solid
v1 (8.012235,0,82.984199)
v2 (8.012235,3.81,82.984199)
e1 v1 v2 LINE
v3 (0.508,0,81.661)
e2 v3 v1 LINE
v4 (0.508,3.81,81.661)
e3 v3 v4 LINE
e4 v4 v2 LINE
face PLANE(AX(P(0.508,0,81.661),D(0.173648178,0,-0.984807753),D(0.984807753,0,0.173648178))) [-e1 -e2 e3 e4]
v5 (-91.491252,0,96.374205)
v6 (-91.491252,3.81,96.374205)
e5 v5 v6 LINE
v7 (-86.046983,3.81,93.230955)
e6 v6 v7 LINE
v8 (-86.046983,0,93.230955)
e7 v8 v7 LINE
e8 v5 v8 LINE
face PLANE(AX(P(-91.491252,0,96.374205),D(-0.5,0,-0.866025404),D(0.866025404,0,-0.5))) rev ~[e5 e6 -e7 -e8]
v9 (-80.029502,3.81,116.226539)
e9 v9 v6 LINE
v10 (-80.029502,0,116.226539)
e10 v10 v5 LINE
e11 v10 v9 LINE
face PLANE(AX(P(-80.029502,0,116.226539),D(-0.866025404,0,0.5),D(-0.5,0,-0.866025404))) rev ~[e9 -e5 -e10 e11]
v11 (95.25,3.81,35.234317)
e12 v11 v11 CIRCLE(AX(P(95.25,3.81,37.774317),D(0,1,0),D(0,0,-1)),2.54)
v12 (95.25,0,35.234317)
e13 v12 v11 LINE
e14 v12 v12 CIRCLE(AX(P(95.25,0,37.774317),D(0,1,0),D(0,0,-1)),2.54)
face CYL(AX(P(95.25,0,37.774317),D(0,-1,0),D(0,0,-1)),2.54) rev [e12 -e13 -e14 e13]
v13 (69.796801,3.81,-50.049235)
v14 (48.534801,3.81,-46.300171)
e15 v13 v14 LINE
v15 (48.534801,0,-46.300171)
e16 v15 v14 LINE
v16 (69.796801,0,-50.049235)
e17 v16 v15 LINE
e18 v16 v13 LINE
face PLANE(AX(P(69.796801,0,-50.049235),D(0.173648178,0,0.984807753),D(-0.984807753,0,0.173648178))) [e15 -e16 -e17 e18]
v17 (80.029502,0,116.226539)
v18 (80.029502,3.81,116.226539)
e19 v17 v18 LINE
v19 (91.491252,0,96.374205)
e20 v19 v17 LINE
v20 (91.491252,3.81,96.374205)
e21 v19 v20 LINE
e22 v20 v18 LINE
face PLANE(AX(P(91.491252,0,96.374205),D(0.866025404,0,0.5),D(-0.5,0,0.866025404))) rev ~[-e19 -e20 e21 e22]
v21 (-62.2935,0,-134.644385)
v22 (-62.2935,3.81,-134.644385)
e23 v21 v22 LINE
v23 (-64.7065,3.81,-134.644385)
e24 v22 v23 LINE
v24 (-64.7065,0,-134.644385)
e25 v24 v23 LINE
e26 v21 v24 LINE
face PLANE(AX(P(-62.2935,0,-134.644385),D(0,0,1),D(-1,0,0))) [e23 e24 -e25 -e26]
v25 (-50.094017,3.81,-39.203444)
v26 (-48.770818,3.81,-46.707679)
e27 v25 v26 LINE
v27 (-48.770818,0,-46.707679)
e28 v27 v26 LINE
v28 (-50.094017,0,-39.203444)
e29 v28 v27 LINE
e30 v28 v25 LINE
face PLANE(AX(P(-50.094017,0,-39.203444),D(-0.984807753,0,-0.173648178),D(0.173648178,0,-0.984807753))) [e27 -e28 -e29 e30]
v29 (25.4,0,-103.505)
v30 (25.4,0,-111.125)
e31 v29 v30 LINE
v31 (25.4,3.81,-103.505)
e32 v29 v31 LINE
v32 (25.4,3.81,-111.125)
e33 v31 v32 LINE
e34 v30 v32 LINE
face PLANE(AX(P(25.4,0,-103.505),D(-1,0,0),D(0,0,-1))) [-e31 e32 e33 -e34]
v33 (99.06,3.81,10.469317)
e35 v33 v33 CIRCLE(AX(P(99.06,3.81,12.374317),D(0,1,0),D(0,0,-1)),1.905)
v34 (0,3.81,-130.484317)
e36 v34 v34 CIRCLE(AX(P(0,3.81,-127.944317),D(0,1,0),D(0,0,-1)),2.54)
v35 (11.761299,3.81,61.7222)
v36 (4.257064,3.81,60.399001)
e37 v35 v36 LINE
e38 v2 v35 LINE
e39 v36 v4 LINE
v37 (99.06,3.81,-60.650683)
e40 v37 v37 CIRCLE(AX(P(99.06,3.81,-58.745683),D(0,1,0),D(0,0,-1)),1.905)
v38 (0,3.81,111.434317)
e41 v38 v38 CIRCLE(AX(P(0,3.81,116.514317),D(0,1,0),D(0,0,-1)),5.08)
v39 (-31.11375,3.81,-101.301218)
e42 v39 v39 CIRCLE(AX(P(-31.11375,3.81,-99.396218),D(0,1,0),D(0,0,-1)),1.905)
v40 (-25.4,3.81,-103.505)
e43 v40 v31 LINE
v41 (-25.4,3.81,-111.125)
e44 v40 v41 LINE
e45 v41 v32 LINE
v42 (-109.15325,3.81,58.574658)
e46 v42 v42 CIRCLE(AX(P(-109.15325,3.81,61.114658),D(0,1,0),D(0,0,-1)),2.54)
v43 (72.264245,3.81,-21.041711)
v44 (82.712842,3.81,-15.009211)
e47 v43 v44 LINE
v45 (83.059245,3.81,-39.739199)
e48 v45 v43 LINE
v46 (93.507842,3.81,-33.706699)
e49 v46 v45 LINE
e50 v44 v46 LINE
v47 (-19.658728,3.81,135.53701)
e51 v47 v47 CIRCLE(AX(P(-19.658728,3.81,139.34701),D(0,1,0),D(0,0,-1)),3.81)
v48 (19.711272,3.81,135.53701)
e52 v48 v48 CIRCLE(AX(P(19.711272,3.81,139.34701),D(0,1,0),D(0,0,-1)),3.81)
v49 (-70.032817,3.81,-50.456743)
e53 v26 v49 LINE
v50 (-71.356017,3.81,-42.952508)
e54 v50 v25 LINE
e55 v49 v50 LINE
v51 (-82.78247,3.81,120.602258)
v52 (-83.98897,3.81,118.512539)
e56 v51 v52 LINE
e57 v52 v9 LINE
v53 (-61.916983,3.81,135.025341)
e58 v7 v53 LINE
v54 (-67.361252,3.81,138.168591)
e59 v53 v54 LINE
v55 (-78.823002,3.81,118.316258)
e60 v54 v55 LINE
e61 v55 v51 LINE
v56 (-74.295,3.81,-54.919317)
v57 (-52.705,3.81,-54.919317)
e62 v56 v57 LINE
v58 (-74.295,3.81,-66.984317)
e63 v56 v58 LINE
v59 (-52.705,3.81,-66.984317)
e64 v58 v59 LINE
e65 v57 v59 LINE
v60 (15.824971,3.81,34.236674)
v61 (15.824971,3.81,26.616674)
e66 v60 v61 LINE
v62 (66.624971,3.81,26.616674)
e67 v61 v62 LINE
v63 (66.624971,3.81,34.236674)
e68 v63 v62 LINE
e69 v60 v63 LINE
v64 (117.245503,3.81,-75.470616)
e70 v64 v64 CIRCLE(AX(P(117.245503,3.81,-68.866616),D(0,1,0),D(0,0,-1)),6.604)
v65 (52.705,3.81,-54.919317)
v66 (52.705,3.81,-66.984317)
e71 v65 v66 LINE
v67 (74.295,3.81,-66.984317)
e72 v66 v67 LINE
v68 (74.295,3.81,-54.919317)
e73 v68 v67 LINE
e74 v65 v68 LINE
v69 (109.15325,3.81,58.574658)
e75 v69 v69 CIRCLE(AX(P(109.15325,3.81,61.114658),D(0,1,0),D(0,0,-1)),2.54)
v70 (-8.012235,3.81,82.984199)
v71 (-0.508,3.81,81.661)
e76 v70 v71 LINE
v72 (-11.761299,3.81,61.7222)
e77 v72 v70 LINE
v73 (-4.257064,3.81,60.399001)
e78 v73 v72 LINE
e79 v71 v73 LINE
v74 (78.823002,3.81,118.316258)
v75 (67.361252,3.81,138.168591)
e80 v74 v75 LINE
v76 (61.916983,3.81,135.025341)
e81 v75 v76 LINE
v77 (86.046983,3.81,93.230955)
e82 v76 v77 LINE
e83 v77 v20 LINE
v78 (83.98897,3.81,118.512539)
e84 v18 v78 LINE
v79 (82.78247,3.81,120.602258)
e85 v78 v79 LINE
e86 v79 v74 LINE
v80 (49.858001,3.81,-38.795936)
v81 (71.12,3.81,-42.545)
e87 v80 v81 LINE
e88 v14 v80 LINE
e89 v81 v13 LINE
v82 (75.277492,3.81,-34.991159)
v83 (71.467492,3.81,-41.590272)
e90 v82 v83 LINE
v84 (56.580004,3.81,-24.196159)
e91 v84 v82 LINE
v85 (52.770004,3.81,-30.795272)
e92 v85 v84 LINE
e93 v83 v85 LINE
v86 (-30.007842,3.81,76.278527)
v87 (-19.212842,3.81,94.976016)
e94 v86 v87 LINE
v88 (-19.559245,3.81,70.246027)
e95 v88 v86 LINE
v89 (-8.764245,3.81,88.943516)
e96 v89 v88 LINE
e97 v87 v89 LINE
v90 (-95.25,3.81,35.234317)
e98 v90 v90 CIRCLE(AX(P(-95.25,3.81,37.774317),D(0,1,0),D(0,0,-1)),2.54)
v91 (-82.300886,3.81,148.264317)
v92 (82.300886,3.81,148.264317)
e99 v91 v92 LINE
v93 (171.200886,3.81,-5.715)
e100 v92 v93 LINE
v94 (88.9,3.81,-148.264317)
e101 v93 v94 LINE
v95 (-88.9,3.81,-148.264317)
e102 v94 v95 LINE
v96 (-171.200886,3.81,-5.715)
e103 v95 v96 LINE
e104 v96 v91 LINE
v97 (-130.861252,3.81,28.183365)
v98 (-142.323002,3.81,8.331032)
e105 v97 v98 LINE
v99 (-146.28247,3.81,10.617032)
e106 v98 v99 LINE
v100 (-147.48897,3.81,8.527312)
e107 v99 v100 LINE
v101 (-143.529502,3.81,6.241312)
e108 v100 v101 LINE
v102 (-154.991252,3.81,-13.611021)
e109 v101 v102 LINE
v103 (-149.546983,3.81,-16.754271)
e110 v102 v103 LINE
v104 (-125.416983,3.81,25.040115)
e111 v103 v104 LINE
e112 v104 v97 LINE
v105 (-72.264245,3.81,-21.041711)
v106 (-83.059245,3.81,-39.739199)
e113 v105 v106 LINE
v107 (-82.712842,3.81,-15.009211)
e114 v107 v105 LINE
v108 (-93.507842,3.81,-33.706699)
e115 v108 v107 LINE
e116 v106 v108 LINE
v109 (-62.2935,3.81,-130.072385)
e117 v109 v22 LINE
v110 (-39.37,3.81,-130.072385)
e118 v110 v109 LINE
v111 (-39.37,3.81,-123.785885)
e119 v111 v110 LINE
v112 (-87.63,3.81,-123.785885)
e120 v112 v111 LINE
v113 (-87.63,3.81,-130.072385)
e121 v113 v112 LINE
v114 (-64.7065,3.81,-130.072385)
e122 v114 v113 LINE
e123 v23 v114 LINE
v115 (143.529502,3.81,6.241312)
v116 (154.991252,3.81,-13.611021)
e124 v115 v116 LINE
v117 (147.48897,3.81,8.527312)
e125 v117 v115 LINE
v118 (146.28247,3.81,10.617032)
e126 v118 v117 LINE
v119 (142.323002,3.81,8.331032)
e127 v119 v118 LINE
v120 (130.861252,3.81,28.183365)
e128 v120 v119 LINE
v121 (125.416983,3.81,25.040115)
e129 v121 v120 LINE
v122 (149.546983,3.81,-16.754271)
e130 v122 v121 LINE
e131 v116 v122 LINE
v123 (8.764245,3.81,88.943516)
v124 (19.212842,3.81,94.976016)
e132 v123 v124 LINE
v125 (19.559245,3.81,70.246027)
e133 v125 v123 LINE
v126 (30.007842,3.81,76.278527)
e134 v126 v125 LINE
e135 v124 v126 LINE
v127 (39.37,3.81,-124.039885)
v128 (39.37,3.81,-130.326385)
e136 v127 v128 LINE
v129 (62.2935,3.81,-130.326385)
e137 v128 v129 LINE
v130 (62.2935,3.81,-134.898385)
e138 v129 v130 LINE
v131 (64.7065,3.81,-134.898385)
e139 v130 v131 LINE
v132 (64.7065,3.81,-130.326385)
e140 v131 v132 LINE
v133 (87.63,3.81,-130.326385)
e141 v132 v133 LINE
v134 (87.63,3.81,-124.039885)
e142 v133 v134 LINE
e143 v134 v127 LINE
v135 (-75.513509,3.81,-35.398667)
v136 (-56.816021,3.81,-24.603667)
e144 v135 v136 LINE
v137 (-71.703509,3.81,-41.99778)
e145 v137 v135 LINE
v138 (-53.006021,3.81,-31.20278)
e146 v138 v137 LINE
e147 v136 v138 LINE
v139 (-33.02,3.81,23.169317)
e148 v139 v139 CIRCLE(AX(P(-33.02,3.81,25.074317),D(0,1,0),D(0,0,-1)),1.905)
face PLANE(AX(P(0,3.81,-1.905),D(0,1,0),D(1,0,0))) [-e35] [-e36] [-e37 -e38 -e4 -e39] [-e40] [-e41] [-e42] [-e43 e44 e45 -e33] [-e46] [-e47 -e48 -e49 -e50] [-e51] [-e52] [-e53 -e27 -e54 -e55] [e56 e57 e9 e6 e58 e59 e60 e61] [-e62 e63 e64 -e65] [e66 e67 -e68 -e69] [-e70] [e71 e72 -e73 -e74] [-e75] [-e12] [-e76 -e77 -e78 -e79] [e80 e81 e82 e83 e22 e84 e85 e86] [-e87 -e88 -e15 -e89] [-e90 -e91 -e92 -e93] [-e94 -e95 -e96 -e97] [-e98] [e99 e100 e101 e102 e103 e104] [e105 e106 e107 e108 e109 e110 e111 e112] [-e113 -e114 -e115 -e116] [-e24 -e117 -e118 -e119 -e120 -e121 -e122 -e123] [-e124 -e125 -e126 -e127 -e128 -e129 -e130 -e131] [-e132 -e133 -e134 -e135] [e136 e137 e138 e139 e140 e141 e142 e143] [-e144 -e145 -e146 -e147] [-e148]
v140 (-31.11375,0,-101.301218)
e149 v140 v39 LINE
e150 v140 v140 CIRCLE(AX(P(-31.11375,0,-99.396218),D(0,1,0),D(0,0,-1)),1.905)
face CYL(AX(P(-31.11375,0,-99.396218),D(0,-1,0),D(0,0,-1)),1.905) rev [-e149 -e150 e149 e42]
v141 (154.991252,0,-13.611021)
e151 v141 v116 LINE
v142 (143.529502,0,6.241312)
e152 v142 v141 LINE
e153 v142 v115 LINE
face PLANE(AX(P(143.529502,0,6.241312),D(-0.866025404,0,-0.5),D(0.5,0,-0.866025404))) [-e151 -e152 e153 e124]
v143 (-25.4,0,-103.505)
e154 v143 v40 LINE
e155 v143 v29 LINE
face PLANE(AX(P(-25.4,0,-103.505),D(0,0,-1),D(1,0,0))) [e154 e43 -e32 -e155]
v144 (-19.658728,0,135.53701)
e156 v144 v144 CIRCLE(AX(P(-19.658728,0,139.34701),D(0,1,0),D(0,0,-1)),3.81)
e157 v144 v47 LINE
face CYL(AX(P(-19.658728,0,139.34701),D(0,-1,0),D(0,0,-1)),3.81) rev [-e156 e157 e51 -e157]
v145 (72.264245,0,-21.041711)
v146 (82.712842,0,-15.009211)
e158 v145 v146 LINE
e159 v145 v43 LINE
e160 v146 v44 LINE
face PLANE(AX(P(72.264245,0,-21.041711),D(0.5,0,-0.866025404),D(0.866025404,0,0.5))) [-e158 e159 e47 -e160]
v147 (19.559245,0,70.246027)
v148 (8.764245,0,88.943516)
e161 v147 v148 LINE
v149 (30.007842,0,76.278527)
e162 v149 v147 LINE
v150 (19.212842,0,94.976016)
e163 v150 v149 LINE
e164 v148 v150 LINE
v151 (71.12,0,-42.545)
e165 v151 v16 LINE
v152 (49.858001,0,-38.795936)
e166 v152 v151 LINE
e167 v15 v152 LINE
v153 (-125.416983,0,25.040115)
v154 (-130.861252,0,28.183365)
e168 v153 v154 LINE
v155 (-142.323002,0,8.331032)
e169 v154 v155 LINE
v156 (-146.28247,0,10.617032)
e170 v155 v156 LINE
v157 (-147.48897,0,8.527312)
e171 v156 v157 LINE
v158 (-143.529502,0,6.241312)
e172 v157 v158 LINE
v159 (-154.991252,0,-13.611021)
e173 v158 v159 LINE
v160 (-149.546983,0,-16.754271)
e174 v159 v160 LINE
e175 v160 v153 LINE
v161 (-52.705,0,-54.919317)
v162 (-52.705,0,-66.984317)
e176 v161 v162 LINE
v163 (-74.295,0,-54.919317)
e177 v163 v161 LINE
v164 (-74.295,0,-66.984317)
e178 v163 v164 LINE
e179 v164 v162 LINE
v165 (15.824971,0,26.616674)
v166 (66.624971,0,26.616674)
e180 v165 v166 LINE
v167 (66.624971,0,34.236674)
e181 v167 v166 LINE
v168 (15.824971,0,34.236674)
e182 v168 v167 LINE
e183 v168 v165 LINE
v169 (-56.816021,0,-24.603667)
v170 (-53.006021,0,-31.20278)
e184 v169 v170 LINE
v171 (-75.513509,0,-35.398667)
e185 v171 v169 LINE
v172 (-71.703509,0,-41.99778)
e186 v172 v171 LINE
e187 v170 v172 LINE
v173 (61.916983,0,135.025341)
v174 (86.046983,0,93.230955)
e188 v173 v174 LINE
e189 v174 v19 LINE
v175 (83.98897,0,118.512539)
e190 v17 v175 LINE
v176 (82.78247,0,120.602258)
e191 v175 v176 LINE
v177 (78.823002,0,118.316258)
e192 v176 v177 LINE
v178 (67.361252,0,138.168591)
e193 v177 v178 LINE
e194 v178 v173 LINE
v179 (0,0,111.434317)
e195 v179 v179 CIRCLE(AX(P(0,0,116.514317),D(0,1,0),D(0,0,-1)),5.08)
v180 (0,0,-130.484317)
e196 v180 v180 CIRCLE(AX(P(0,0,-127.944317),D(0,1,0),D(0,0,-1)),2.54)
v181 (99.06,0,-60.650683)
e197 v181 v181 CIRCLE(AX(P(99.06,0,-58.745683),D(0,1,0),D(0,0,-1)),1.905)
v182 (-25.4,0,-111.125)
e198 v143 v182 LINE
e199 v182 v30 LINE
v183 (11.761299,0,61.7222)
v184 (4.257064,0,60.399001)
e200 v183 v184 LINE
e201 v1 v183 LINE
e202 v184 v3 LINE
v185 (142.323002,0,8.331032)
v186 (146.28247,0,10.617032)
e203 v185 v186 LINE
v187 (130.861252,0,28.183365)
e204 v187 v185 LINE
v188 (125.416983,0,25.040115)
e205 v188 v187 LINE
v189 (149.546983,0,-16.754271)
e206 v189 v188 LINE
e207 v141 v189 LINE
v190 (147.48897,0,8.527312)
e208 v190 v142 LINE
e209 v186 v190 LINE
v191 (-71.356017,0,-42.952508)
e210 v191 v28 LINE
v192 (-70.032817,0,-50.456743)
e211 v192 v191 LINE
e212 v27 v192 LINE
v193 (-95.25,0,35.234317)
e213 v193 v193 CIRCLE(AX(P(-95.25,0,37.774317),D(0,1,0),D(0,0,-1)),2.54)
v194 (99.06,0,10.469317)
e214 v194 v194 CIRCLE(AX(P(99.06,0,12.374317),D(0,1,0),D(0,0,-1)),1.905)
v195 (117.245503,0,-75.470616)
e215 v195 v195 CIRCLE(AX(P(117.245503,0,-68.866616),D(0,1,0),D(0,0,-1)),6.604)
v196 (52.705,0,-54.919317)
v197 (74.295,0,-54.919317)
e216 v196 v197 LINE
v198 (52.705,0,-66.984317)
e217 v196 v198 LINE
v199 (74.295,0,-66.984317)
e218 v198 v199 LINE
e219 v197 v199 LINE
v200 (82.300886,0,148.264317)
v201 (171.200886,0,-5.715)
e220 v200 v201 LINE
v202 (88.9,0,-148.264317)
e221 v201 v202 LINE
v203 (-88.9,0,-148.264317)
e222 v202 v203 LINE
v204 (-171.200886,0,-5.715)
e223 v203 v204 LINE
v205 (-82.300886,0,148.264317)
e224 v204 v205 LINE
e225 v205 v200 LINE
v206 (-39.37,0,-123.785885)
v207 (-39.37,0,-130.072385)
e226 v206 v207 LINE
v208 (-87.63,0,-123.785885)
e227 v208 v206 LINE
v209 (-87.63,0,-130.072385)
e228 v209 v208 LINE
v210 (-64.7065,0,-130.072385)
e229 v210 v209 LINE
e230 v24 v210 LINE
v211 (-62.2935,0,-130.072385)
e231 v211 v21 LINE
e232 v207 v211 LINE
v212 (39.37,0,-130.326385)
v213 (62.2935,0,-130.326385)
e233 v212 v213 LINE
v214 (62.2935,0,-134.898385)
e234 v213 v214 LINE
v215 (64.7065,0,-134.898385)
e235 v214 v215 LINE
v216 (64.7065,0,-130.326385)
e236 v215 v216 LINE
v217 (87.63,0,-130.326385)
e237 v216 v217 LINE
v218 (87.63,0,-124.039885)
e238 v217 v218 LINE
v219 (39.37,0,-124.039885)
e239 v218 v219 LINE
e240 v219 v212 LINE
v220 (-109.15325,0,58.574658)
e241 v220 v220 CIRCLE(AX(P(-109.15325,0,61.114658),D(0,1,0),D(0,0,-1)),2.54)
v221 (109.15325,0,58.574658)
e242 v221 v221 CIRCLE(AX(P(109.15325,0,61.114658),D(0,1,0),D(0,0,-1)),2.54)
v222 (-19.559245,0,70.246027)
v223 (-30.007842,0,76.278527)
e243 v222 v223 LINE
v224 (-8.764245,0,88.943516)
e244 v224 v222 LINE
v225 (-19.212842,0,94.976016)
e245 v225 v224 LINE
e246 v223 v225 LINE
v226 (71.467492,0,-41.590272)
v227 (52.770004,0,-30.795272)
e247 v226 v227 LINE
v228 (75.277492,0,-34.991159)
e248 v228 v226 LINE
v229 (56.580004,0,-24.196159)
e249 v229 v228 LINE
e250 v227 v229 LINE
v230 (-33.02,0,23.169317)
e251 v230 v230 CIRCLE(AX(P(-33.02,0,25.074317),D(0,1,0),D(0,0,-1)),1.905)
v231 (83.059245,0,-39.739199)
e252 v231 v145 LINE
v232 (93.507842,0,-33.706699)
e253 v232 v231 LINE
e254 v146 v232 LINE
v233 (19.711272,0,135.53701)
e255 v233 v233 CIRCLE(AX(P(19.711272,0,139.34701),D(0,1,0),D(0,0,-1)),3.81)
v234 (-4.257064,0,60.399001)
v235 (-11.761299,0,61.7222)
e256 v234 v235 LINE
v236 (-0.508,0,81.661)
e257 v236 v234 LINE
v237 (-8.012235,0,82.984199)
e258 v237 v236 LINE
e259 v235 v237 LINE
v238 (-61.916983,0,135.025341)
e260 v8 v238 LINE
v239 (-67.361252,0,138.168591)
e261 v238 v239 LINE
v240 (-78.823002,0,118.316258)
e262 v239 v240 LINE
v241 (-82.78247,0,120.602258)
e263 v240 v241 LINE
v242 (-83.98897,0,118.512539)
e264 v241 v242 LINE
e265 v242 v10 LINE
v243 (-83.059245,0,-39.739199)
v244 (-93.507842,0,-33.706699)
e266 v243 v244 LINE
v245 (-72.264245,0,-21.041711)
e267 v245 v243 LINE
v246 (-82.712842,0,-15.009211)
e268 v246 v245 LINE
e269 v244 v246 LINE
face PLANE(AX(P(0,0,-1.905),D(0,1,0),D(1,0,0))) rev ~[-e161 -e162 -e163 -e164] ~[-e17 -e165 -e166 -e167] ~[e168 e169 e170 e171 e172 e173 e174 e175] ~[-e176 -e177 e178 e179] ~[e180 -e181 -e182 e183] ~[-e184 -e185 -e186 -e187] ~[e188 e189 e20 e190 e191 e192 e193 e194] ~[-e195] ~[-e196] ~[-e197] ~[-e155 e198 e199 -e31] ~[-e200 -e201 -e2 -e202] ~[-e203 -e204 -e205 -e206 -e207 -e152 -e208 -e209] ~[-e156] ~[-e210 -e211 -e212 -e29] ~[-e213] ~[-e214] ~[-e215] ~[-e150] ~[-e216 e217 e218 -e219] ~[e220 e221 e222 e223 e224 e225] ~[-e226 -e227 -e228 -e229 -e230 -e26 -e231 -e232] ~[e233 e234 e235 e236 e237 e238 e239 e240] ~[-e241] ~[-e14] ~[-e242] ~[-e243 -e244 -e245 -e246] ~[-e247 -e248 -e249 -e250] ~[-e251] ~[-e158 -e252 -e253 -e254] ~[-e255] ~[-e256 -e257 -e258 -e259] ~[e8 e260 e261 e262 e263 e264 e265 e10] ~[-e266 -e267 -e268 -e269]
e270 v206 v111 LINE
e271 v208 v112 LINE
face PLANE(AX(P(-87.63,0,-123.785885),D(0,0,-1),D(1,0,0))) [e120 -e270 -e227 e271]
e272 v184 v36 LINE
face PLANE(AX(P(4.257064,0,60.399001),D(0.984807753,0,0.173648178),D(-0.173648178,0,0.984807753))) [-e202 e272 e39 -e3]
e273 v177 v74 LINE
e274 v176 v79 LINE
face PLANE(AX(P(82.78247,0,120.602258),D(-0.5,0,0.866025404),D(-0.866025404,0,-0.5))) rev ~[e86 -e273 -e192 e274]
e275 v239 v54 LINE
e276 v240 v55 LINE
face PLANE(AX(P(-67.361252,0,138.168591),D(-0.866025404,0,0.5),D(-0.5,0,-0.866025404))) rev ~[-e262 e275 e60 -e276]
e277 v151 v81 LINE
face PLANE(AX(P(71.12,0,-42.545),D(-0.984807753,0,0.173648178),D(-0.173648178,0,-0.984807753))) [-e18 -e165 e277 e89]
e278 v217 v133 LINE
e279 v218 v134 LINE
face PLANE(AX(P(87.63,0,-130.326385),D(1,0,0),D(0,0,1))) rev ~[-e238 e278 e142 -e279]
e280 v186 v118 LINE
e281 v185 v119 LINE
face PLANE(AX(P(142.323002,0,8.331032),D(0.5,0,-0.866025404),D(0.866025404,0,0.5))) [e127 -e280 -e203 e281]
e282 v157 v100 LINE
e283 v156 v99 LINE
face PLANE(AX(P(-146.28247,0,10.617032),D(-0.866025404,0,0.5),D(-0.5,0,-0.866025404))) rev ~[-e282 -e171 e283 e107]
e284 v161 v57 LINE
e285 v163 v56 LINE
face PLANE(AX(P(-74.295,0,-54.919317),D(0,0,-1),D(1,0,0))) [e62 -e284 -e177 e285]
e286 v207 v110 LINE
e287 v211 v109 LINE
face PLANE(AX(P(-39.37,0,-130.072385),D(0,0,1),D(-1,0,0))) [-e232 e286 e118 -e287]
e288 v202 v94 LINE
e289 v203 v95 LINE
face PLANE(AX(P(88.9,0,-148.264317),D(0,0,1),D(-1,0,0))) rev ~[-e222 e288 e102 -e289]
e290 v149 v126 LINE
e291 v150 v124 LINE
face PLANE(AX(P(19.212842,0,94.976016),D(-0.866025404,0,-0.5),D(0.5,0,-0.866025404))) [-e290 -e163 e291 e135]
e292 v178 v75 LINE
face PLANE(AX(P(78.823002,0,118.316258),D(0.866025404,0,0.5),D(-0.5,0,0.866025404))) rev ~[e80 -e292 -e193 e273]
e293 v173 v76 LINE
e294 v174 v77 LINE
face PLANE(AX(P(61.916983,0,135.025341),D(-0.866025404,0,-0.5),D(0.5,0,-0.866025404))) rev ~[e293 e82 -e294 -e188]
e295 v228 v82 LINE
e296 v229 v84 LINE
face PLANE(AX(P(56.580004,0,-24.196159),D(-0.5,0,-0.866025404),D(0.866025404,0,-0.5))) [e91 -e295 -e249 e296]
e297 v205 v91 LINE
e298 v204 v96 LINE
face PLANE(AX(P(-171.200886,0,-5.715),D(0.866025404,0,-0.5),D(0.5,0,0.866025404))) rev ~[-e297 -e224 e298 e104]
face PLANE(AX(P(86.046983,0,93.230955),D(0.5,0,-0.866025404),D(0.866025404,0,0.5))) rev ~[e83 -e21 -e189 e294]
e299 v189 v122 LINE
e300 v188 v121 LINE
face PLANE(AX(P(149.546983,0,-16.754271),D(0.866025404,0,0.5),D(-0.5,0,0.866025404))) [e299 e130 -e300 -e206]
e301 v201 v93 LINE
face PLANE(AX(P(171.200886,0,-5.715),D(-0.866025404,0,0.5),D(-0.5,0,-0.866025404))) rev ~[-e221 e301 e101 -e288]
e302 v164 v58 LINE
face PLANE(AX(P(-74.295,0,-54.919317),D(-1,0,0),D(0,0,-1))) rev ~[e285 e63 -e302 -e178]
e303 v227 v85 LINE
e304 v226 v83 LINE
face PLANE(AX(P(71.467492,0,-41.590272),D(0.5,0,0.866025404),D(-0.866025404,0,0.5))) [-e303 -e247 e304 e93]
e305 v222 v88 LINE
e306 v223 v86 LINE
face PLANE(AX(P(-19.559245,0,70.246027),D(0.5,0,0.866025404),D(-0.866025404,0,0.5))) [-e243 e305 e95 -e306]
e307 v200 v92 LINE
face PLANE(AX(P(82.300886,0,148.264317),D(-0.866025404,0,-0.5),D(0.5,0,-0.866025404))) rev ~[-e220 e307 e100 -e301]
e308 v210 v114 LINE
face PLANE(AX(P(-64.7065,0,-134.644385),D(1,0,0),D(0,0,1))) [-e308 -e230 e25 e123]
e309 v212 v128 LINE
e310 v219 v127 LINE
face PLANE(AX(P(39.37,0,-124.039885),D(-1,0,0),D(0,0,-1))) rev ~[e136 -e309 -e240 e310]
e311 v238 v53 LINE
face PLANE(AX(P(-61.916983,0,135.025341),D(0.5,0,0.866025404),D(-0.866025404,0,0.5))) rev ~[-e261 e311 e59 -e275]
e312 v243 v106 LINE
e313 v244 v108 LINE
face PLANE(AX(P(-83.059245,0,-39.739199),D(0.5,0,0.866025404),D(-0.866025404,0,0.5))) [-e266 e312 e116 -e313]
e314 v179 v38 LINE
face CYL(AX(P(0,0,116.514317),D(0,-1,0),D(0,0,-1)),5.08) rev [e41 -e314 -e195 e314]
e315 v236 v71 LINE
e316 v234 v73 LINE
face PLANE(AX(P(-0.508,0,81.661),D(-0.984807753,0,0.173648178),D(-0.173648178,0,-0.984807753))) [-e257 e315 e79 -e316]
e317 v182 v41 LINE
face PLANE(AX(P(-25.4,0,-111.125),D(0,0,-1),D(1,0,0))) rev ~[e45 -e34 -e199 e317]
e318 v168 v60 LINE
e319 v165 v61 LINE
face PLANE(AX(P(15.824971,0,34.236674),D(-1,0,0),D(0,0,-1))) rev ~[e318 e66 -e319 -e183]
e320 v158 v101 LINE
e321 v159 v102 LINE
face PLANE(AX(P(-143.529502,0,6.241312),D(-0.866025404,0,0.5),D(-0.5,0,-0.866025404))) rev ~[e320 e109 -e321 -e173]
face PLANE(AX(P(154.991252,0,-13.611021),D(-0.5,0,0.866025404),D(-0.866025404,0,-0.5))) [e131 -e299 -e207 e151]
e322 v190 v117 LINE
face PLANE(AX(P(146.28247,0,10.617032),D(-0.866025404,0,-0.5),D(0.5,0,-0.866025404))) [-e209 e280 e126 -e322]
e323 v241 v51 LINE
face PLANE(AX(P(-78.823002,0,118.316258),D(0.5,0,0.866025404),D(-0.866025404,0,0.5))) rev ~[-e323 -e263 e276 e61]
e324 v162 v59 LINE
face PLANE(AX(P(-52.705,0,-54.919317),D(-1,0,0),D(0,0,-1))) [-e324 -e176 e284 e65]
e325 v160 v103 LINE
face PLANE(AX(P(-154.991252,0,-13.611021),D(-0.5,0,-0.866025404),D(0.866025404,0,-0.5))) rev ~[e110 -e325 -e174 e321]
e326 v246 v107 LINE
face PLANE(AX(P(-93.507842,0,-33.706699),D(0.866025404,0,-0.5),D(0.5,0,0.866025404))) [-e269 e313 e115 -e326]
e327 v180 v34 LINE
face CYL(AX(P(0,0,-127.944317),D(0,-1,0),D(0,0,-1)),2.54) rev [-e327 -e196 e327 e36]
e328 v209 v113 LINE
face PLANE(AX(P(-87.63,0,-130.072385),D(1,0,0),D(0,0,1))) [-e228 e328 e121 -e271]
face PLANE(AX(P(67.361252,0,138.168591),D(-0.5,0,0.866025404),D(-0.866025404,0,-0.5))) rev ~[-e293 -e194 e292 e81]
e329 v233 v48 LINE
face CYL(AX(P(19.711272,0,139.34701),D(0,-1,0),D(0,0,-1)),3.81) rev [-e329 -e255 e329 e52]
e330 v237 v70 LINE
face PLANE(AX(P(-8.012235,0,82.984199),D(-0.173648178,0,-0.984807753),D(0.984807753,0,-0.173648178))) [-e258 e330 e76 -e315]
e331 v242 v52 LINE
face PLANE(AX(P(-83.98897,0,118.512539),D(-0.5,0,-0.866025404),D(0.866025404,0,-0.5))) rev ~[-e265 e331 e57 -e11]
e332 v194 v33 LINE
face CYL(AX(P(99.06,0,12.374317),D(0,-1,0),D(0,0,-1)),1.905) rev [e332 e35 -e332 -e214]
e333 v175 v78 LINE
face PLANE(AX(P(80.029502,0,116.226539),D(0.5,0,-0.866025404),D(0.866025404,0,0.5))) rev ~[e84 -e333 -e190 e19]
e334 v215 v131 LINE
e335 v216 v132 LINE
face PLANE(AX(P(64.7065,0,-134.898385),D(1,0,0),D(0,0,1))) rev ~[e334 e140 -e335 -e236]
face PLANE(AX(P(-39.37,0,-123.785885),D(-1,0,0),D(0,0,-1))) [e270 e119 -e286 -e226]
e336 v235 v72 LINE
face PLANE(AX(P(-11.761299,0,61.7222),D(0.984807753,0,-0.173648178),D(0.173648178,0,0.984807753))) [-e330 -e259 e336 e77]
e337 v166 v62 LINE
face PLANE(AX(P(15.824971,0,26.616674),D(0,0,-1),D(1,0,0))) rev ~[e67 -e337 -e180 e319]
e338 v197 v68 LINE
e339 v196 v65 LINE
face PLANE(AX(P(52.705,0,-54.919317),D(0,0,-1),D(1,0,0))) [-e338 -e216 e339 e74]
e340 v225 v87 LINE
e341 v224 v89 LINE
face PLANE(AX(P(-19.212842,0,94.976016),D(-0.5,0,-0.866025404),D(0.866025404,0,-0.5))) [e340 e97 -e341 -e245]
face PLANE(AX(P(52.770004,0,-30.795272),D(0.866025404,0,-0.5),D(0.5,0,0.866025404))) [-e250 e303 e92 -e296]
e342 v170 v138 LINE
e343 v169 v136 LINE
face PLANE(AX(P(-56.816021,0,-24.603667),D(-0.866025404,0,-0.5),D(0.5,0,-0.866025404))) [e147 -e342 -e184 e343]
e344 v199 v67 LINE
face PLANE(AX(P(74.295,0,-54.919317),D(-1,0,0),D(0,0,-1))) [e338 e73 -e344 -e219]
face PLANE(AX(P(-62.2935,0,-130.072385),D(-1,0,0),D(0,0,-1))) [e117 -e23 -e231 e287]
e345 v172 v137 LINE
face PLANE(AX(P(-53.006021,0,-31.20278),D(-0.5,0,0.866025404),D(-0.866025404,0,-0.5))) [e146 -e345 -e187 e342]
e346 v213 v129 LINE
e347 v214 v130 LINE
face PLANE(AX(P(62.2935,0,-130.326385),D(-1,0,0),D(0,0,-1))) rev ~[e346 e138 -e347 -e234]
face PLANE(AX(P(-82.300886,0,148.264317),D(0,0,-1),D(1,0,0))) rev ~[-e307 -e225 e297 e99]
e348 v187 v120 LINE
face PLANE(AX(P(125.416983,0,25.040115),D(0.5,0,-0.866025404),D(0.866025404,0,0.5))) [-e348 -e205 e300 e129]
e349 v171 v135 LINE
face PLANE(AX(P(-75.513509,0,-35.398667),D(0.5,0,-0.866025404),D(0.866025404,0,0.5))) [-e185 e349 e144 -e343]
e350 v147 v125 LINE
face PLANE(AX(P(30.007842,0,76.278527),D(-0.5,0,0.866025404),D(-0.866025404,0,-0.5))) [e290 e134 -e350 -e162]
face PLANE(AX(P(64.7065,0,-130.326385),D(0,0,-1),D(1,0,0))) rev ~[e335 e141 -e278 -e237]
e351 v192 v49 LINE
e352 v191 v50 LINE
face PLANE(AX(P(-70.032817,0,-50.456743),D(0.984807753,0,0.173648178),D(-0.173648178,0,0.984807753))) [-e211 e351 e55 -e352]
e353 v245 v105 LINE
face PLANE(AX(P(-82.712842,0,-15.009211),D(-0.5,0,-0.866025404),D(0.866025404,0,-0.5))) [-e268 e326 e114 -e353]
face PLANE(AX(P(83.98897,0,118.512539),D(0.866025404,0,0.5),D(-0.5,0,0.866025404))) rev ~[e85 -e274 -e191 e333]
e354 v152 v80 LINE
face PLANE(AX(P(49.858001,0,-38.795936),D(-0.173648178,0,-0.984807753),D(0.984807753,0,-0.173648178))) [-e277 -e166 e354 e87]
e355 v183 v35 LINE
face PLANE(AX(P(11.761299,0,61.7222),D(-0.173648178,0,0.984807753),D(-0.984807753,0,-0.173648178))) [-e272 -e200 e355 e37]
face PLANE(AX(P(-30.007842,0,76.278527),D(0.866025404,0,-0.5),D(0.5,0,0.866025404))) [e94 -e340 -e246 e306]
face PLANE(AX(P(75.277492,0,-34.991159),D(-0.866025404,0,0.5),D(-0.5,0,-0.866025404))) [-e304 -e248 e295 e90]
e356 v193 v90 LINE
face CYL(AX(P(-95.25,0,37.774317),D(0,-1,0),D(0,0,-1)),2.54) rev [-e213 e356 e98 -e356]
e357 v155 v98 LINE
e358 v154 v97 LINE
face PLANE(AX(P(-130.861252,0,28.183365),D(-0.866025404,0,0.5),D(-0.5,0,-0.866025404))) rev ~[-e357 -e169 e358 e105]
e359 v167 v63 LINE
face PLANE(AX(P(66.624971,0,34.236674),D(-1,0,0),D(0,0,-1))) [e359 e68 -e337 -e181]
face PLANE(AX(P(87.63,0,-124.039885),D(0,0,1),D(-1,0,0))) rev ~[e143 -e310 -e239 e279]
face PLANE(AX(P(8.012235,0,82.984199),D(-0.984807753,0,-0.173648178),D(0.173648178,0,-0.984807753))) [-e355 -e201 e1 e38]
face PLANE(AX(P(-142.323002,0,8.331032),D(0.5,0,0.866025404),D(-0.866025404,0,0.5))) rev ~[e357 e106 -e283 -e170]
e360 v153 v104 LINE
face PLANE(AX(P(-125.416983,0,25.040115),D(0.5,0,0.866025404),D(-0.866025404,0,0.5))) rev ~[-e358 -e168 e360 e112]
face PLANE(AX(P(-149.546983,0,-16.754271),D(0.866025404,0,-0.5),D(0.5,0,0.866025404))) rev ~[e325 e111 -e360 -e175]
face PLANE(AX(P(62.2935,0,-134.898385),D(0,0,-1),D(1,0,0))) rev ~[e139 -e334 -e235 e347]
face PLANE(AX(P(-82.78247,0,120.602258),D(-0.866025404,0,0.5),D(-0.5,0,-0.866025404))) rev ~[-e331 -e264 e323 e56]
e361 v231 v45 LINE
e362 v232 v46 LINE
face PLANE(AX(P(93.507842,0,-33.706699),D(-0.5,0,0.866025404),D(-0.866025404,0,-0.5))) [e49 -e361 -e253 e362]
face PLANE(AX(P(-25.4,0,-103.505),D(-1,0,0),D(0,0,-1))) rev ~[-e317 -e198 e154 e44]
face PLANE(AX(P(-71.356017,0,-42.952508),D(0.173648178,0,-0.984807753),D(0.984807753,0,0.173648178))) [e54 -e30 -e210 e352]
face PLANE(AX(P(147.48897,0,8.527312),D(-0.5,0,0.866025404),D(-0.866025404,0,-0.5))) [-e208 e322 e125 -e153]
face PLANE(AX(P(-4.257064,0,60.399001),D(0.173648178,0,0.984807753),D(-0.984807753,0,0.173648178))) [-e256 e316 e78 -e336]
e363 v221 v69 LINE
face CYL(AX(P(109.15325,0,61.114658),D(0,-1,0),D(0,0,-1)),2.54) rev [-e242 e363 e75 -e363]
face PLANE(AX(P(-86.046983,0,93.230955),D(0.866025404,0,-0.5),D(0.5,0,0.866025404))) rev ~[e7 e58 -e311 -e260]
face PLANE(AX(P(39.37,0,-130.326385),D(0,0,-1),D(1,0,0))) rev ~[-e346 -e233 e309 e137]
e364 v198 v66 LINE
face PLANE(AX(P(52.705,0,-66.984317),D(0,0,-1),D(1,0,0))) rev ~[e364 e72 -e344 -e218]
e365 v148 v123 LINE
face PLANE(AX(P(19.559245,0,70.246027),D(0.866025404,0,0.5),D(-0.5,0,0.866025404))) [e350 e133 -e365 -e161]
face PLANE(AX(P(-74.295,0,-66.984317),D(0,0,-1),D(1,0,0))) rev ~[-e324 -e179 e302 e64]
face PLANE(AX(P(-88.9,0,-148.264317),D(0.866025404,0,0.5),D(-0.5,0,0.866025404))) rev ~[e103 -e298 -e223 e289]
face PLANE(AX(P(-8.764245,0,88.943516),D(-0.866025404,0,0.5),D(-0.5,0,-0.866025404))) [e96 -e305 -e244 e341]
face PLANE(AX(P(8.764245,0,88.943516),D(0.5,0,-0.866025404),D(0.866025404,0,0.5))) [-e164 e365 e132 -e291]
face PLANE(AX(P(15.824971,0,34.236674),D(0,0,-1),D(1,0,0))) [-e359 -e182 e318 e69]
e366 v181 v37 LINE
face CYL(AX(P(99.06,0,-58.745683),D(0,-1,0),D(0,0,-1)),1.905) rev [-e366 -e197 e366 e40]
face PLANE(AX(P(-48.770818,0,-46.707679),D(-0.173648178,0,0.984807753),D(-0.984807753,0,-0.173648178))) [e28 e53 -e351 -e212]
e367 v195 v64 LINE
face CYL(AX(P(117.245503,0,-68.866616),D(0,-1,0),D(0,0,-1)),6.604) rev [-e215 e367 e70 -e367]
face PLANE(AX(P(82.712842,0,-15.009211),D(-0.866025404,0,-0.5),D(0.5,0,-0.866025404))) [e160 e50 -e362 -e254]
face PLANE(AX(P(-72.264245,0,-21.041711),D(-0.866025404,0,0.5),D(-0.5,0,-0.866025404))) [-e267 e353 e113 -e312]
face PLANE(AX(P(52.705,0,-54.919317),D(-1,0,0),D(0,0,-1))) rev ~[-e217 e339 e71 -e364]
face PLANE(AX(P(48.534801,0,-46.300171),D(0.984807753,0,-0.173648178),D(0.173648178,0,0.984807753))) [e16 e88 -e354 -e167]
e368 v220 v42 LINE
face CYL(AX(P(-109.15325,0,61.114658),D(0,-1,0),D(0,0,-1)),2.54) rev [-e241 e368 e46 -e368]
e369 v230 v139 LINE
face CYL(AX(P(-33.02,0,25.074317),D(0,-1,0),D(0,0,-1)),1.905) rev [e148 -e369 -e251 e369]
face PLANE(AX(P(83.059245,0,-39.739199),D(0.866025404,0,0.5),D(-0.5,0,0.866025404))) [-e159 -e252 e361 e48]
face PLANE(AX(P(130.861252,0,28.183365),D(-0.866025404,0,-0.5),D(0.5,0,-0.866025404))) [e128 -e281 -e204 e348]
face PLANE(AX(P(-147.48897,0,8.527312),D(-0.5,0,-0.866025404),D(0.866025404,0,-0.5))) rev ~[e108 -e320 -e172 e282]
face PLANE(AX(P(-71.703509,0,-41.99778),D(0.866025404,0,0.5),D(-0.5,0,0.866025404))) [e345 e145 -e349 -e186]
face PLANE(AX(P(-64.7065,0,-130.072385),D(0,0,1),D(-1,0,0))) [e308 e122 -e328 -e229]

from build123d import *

# Parameters (mm, degrees)
SKETCH1_R           = 5.08
SKETCH1_R_2         = 3.81
SKETCH1_R_3         = 2.54
SKETCH1_R_4         = 1.905
SKETCH1_R_5         = 6.604
SKETCH1_W           = 21.59
SKETCH1_H           = 12.065
SKETCH1_W_2         = 50.8
SKETCH1_H_2         = 7.62
BOSS_EXTRUDE1_DEPTH = 3.81


with BuildPart() as part:
    # Sketch1 → Boss-Extrude1 (new body)
    with BuildSketch(Plane(origin=(0, 0, 0), x_dir=(1, 0, 0), z_dir=(0, 1, 0))):
        Polygon((82.300886423, -148.264316793), (171.200886423, 5.715), (88.9, 148.264316793), (-88.9, 148.264316793), (-171.200886423, 5.715), (-82.300886423, -148.264316793), align=None)
        with Locations(Location((0, -116.514316793, 0), (0, 0, 90))):
            Circle(SKETCH1_R, mode=Mode.SUBTRACT)
        with Locations(Location((-19.658728346, -139.347010207, 0), (0, 0, 90))):
            Circle(SKETCH1_R_2, mode=Mode.SUBTRACT)
        with Locations(Location((19.711271654, -139.347010207, 0), (0, 0, 90))):
            Circle(SKETCH1_R_2, mode=Mode.SUBTRACT)
        with Locations(Location((-95.25, -37.774316793, 0), (0, 0, 90))):
            Circle(SKETCH1_R_3, mode=Mode.SUBTRACT)
        with Locations(Location((95.25, -37.774316793, 0), (0, 0, 90))):
            Circle(SKETCH1_R_3, mode=Mode.SUBTRACT)
        with Locations(Location((-31.113749598, 99.396218431, 0), (0, 0, 90))):
            Circle(SKETCH1_R_4, mode=Mode.SUBTRACT)
        with Locations(Location((-33.02, -25.074316793, 0), (0, 0, 90))):
            Circle(SKETCH1_R_4, mode=Mode.SUBTRACT)
        with Locations(Location((99.06, -12.374316793, 0), (0, 0, 90))):
            Circle(SKETCH1_R_4, mode=Mode.SUBTRACT)
        with Locations(Location((99.06, 58.745683207, 0), (0, 0, 90))):
            Circle(SKETCH1_R_4, mode=Mode.SUBTRACT)
        with Locations(Location((0, 127.944316793, 0), (0, 0, 90))):
            Circle(SKETCH1_R_3, mode=Mode.SUBTRACT)
        with Locations(Location((-109.153250218, -61.114658396, 0), (0, 0, 90))):
            Circle(SKETCH1_R_3, mode=Mode.SUBTRACT)
        with Locations(Location((109.153250218, -61.114658396, 0), (0, 0, 90))):
            Circle(SKETCH1_R_3, mode=Mode.SUBTRACT)
        with Locations(Location((117.245502559, 68.866615534, 0), (0, 0, 90))):
            Circle(SKETCH1_R_5, mode=Mode.SUBTRACT)
        Polygon((-39.37, 123.785885114), (-39.37, 130.072385114), (-62.2935, 130.072385114), (-62.2935, 134.644385114), (-64.7065, 134.644385114), (-64.7065, 130.072385114), (-87.63, 130.072385114), (-87.63, 123.785885114), align=None, mode=Mode.SUBTRACT)
        Polygon((39.37, 124.039885114), (39.37, 130.326385114), (62.2935, 130.326385114), (62.2935, 134.898385114), (64.7065, 134.898385114), (64.7065, 130.326385114), (87.63, 130.326385114), (87.63, 124.039885114), align=None, mode=Mode.SUBTRACT)
        Polygon((125.416983138, -25.040114979), (130.861251839, -28.183364979), (142.323001839, -8.331031636), (146.282469985, -10.617031636), (147.488969985, -8.527312336), (143.529501839, -6.241312336), (154.991251839, 13.611021007), (149.546983138, 16.754271007), align=None, mode=Mode.SUBTRACT)
        Polygon((86.046983138, -93.230955273), (91.491251839, -96.374205273), (80.029501839, -116.226538617), (83.988969985, -118.512538617), (82.782469985, -120.602257916), (78.823001839, -118.316257916), (67.361251839, -138.16859126), (61.916983138, -135.02534126), align=None, mode=Mode.SUBTRACT)
        Polygon((-61.916983138, -135.02534126), (-67.361251839, -138.16859126), (-78.823001839, -118.316257916), (-82.782469985, -120.602257916), (-83.988969985, -118.512538617), (-80.029501839, -116.226538617), (-91.491251839, -96.374205273), (-86.046983138, -93.230955273), align=None, mode=Mode.SUBTRACT)
        Polygon((-125.416983138, -25.040114979), (-130.861251839, -28.183364979), (-142.323001839, -8.331031636), (-146.282469985, -10.617031636), (-147.488969985, -8.527312336), (-143.529501839, -6.241312336), (-154.991251839, 13.611021007), (-149.546983138, 16.754271007), align=None, mode=Mode.SUBTRACT)
        with Locations((63.5, 60.951816793)):
            Rectangle(SKETCH1_W, SKETCH1_H, mode=Mode.SUBTRACT)
        Polygon((83.059245107, 39.739198978), (72.264245107, 21.04171051), (82.712841604, 15.00921051), (93.507841604, 33.706698978), align=None, mode=Mode.SUBTRACT)
        with Locations((-63.5, 60.951816793)):
            Rectangle(SKETCH1_W, SKETCH1_H, mode=Mode.SUBTRACT)
        Polygon((-72.264245107, 21.04171051), (-83.059245107, 39.739198978), (-93.507841604, 33.706698978), (-82.712841604, 15.00921051), align=None, mode=Mode.SUBTRACT)
        Polygon((-19.559245107, -70.246027303), (-30.007841604, -76.278527303), (-19.212841604, -94.976015771), (-8.764245107, -88.943515771), align=None, mode=Mode.SUBTRACT)
        Polygon((19.559245107, -70.246027303), (8.764245107, -88.943515771), (19.212841604, -94.976015771), (30.007841604, -76.278527303), align=None, mode=Mode.SUBTRACT)
        Polygon((-0.508, -81.661), (-4.257064156, -60.399000612), (-11.761299234, -61.722199726), (-8.012235078, -82.984199114), align=None, mode=Mode.SUBTRACT)
        Polygon((4.257064156, -60.399000612), (0.508, -81.661), (8.012235078, -82.984199114), (11.761299234, -61.722199726), align=None, mode=Mode.SUBTRACT)
        Polygon((71.467492466, 41.590272297), (52.770003998, 30.795272297), (56.580003998, 24.19615872), (75.277492466, 34.99115872), align=None, mode=Mode.SUBTRACT)
        Polygon((49.858000612, 38.795935844), (71.12, 42.545), (69.796800886, 50.049235078), (48.534801499, 46.300170922), align=None, mode=Mode.SUBTRACT)
        Polygon((-71.356016539, 42.952508085), (-50.094017152, 39.203443929), (-48.770818038, 46.707679007), (-70.032817426, 50.456743163), align=None, mode=Mode.SUBTRACT)
        Polygon((-53.006020537, 31.202780382), (-71.703509005, 41.997780382), (-75.513509005, 35.398666806), (-56.816020537, 24.603666806), align=None, mode=Mode.SUBTRACT)
        with Locations((0, 107.315)):
            Rectangle(SKETCH1_W_2, SKETCH1_H_2, mode=Mode.SUBTRACT)
        with Locations((41.224971045, -30.426673737)):
            Rectangle(SKETCH1_W_2, SKETCH1_H_2, mode=Mode.SUBTRACT)
    extrude(amount=BOSS_EXTRUDE1_DEPTH)


solid = part.part
